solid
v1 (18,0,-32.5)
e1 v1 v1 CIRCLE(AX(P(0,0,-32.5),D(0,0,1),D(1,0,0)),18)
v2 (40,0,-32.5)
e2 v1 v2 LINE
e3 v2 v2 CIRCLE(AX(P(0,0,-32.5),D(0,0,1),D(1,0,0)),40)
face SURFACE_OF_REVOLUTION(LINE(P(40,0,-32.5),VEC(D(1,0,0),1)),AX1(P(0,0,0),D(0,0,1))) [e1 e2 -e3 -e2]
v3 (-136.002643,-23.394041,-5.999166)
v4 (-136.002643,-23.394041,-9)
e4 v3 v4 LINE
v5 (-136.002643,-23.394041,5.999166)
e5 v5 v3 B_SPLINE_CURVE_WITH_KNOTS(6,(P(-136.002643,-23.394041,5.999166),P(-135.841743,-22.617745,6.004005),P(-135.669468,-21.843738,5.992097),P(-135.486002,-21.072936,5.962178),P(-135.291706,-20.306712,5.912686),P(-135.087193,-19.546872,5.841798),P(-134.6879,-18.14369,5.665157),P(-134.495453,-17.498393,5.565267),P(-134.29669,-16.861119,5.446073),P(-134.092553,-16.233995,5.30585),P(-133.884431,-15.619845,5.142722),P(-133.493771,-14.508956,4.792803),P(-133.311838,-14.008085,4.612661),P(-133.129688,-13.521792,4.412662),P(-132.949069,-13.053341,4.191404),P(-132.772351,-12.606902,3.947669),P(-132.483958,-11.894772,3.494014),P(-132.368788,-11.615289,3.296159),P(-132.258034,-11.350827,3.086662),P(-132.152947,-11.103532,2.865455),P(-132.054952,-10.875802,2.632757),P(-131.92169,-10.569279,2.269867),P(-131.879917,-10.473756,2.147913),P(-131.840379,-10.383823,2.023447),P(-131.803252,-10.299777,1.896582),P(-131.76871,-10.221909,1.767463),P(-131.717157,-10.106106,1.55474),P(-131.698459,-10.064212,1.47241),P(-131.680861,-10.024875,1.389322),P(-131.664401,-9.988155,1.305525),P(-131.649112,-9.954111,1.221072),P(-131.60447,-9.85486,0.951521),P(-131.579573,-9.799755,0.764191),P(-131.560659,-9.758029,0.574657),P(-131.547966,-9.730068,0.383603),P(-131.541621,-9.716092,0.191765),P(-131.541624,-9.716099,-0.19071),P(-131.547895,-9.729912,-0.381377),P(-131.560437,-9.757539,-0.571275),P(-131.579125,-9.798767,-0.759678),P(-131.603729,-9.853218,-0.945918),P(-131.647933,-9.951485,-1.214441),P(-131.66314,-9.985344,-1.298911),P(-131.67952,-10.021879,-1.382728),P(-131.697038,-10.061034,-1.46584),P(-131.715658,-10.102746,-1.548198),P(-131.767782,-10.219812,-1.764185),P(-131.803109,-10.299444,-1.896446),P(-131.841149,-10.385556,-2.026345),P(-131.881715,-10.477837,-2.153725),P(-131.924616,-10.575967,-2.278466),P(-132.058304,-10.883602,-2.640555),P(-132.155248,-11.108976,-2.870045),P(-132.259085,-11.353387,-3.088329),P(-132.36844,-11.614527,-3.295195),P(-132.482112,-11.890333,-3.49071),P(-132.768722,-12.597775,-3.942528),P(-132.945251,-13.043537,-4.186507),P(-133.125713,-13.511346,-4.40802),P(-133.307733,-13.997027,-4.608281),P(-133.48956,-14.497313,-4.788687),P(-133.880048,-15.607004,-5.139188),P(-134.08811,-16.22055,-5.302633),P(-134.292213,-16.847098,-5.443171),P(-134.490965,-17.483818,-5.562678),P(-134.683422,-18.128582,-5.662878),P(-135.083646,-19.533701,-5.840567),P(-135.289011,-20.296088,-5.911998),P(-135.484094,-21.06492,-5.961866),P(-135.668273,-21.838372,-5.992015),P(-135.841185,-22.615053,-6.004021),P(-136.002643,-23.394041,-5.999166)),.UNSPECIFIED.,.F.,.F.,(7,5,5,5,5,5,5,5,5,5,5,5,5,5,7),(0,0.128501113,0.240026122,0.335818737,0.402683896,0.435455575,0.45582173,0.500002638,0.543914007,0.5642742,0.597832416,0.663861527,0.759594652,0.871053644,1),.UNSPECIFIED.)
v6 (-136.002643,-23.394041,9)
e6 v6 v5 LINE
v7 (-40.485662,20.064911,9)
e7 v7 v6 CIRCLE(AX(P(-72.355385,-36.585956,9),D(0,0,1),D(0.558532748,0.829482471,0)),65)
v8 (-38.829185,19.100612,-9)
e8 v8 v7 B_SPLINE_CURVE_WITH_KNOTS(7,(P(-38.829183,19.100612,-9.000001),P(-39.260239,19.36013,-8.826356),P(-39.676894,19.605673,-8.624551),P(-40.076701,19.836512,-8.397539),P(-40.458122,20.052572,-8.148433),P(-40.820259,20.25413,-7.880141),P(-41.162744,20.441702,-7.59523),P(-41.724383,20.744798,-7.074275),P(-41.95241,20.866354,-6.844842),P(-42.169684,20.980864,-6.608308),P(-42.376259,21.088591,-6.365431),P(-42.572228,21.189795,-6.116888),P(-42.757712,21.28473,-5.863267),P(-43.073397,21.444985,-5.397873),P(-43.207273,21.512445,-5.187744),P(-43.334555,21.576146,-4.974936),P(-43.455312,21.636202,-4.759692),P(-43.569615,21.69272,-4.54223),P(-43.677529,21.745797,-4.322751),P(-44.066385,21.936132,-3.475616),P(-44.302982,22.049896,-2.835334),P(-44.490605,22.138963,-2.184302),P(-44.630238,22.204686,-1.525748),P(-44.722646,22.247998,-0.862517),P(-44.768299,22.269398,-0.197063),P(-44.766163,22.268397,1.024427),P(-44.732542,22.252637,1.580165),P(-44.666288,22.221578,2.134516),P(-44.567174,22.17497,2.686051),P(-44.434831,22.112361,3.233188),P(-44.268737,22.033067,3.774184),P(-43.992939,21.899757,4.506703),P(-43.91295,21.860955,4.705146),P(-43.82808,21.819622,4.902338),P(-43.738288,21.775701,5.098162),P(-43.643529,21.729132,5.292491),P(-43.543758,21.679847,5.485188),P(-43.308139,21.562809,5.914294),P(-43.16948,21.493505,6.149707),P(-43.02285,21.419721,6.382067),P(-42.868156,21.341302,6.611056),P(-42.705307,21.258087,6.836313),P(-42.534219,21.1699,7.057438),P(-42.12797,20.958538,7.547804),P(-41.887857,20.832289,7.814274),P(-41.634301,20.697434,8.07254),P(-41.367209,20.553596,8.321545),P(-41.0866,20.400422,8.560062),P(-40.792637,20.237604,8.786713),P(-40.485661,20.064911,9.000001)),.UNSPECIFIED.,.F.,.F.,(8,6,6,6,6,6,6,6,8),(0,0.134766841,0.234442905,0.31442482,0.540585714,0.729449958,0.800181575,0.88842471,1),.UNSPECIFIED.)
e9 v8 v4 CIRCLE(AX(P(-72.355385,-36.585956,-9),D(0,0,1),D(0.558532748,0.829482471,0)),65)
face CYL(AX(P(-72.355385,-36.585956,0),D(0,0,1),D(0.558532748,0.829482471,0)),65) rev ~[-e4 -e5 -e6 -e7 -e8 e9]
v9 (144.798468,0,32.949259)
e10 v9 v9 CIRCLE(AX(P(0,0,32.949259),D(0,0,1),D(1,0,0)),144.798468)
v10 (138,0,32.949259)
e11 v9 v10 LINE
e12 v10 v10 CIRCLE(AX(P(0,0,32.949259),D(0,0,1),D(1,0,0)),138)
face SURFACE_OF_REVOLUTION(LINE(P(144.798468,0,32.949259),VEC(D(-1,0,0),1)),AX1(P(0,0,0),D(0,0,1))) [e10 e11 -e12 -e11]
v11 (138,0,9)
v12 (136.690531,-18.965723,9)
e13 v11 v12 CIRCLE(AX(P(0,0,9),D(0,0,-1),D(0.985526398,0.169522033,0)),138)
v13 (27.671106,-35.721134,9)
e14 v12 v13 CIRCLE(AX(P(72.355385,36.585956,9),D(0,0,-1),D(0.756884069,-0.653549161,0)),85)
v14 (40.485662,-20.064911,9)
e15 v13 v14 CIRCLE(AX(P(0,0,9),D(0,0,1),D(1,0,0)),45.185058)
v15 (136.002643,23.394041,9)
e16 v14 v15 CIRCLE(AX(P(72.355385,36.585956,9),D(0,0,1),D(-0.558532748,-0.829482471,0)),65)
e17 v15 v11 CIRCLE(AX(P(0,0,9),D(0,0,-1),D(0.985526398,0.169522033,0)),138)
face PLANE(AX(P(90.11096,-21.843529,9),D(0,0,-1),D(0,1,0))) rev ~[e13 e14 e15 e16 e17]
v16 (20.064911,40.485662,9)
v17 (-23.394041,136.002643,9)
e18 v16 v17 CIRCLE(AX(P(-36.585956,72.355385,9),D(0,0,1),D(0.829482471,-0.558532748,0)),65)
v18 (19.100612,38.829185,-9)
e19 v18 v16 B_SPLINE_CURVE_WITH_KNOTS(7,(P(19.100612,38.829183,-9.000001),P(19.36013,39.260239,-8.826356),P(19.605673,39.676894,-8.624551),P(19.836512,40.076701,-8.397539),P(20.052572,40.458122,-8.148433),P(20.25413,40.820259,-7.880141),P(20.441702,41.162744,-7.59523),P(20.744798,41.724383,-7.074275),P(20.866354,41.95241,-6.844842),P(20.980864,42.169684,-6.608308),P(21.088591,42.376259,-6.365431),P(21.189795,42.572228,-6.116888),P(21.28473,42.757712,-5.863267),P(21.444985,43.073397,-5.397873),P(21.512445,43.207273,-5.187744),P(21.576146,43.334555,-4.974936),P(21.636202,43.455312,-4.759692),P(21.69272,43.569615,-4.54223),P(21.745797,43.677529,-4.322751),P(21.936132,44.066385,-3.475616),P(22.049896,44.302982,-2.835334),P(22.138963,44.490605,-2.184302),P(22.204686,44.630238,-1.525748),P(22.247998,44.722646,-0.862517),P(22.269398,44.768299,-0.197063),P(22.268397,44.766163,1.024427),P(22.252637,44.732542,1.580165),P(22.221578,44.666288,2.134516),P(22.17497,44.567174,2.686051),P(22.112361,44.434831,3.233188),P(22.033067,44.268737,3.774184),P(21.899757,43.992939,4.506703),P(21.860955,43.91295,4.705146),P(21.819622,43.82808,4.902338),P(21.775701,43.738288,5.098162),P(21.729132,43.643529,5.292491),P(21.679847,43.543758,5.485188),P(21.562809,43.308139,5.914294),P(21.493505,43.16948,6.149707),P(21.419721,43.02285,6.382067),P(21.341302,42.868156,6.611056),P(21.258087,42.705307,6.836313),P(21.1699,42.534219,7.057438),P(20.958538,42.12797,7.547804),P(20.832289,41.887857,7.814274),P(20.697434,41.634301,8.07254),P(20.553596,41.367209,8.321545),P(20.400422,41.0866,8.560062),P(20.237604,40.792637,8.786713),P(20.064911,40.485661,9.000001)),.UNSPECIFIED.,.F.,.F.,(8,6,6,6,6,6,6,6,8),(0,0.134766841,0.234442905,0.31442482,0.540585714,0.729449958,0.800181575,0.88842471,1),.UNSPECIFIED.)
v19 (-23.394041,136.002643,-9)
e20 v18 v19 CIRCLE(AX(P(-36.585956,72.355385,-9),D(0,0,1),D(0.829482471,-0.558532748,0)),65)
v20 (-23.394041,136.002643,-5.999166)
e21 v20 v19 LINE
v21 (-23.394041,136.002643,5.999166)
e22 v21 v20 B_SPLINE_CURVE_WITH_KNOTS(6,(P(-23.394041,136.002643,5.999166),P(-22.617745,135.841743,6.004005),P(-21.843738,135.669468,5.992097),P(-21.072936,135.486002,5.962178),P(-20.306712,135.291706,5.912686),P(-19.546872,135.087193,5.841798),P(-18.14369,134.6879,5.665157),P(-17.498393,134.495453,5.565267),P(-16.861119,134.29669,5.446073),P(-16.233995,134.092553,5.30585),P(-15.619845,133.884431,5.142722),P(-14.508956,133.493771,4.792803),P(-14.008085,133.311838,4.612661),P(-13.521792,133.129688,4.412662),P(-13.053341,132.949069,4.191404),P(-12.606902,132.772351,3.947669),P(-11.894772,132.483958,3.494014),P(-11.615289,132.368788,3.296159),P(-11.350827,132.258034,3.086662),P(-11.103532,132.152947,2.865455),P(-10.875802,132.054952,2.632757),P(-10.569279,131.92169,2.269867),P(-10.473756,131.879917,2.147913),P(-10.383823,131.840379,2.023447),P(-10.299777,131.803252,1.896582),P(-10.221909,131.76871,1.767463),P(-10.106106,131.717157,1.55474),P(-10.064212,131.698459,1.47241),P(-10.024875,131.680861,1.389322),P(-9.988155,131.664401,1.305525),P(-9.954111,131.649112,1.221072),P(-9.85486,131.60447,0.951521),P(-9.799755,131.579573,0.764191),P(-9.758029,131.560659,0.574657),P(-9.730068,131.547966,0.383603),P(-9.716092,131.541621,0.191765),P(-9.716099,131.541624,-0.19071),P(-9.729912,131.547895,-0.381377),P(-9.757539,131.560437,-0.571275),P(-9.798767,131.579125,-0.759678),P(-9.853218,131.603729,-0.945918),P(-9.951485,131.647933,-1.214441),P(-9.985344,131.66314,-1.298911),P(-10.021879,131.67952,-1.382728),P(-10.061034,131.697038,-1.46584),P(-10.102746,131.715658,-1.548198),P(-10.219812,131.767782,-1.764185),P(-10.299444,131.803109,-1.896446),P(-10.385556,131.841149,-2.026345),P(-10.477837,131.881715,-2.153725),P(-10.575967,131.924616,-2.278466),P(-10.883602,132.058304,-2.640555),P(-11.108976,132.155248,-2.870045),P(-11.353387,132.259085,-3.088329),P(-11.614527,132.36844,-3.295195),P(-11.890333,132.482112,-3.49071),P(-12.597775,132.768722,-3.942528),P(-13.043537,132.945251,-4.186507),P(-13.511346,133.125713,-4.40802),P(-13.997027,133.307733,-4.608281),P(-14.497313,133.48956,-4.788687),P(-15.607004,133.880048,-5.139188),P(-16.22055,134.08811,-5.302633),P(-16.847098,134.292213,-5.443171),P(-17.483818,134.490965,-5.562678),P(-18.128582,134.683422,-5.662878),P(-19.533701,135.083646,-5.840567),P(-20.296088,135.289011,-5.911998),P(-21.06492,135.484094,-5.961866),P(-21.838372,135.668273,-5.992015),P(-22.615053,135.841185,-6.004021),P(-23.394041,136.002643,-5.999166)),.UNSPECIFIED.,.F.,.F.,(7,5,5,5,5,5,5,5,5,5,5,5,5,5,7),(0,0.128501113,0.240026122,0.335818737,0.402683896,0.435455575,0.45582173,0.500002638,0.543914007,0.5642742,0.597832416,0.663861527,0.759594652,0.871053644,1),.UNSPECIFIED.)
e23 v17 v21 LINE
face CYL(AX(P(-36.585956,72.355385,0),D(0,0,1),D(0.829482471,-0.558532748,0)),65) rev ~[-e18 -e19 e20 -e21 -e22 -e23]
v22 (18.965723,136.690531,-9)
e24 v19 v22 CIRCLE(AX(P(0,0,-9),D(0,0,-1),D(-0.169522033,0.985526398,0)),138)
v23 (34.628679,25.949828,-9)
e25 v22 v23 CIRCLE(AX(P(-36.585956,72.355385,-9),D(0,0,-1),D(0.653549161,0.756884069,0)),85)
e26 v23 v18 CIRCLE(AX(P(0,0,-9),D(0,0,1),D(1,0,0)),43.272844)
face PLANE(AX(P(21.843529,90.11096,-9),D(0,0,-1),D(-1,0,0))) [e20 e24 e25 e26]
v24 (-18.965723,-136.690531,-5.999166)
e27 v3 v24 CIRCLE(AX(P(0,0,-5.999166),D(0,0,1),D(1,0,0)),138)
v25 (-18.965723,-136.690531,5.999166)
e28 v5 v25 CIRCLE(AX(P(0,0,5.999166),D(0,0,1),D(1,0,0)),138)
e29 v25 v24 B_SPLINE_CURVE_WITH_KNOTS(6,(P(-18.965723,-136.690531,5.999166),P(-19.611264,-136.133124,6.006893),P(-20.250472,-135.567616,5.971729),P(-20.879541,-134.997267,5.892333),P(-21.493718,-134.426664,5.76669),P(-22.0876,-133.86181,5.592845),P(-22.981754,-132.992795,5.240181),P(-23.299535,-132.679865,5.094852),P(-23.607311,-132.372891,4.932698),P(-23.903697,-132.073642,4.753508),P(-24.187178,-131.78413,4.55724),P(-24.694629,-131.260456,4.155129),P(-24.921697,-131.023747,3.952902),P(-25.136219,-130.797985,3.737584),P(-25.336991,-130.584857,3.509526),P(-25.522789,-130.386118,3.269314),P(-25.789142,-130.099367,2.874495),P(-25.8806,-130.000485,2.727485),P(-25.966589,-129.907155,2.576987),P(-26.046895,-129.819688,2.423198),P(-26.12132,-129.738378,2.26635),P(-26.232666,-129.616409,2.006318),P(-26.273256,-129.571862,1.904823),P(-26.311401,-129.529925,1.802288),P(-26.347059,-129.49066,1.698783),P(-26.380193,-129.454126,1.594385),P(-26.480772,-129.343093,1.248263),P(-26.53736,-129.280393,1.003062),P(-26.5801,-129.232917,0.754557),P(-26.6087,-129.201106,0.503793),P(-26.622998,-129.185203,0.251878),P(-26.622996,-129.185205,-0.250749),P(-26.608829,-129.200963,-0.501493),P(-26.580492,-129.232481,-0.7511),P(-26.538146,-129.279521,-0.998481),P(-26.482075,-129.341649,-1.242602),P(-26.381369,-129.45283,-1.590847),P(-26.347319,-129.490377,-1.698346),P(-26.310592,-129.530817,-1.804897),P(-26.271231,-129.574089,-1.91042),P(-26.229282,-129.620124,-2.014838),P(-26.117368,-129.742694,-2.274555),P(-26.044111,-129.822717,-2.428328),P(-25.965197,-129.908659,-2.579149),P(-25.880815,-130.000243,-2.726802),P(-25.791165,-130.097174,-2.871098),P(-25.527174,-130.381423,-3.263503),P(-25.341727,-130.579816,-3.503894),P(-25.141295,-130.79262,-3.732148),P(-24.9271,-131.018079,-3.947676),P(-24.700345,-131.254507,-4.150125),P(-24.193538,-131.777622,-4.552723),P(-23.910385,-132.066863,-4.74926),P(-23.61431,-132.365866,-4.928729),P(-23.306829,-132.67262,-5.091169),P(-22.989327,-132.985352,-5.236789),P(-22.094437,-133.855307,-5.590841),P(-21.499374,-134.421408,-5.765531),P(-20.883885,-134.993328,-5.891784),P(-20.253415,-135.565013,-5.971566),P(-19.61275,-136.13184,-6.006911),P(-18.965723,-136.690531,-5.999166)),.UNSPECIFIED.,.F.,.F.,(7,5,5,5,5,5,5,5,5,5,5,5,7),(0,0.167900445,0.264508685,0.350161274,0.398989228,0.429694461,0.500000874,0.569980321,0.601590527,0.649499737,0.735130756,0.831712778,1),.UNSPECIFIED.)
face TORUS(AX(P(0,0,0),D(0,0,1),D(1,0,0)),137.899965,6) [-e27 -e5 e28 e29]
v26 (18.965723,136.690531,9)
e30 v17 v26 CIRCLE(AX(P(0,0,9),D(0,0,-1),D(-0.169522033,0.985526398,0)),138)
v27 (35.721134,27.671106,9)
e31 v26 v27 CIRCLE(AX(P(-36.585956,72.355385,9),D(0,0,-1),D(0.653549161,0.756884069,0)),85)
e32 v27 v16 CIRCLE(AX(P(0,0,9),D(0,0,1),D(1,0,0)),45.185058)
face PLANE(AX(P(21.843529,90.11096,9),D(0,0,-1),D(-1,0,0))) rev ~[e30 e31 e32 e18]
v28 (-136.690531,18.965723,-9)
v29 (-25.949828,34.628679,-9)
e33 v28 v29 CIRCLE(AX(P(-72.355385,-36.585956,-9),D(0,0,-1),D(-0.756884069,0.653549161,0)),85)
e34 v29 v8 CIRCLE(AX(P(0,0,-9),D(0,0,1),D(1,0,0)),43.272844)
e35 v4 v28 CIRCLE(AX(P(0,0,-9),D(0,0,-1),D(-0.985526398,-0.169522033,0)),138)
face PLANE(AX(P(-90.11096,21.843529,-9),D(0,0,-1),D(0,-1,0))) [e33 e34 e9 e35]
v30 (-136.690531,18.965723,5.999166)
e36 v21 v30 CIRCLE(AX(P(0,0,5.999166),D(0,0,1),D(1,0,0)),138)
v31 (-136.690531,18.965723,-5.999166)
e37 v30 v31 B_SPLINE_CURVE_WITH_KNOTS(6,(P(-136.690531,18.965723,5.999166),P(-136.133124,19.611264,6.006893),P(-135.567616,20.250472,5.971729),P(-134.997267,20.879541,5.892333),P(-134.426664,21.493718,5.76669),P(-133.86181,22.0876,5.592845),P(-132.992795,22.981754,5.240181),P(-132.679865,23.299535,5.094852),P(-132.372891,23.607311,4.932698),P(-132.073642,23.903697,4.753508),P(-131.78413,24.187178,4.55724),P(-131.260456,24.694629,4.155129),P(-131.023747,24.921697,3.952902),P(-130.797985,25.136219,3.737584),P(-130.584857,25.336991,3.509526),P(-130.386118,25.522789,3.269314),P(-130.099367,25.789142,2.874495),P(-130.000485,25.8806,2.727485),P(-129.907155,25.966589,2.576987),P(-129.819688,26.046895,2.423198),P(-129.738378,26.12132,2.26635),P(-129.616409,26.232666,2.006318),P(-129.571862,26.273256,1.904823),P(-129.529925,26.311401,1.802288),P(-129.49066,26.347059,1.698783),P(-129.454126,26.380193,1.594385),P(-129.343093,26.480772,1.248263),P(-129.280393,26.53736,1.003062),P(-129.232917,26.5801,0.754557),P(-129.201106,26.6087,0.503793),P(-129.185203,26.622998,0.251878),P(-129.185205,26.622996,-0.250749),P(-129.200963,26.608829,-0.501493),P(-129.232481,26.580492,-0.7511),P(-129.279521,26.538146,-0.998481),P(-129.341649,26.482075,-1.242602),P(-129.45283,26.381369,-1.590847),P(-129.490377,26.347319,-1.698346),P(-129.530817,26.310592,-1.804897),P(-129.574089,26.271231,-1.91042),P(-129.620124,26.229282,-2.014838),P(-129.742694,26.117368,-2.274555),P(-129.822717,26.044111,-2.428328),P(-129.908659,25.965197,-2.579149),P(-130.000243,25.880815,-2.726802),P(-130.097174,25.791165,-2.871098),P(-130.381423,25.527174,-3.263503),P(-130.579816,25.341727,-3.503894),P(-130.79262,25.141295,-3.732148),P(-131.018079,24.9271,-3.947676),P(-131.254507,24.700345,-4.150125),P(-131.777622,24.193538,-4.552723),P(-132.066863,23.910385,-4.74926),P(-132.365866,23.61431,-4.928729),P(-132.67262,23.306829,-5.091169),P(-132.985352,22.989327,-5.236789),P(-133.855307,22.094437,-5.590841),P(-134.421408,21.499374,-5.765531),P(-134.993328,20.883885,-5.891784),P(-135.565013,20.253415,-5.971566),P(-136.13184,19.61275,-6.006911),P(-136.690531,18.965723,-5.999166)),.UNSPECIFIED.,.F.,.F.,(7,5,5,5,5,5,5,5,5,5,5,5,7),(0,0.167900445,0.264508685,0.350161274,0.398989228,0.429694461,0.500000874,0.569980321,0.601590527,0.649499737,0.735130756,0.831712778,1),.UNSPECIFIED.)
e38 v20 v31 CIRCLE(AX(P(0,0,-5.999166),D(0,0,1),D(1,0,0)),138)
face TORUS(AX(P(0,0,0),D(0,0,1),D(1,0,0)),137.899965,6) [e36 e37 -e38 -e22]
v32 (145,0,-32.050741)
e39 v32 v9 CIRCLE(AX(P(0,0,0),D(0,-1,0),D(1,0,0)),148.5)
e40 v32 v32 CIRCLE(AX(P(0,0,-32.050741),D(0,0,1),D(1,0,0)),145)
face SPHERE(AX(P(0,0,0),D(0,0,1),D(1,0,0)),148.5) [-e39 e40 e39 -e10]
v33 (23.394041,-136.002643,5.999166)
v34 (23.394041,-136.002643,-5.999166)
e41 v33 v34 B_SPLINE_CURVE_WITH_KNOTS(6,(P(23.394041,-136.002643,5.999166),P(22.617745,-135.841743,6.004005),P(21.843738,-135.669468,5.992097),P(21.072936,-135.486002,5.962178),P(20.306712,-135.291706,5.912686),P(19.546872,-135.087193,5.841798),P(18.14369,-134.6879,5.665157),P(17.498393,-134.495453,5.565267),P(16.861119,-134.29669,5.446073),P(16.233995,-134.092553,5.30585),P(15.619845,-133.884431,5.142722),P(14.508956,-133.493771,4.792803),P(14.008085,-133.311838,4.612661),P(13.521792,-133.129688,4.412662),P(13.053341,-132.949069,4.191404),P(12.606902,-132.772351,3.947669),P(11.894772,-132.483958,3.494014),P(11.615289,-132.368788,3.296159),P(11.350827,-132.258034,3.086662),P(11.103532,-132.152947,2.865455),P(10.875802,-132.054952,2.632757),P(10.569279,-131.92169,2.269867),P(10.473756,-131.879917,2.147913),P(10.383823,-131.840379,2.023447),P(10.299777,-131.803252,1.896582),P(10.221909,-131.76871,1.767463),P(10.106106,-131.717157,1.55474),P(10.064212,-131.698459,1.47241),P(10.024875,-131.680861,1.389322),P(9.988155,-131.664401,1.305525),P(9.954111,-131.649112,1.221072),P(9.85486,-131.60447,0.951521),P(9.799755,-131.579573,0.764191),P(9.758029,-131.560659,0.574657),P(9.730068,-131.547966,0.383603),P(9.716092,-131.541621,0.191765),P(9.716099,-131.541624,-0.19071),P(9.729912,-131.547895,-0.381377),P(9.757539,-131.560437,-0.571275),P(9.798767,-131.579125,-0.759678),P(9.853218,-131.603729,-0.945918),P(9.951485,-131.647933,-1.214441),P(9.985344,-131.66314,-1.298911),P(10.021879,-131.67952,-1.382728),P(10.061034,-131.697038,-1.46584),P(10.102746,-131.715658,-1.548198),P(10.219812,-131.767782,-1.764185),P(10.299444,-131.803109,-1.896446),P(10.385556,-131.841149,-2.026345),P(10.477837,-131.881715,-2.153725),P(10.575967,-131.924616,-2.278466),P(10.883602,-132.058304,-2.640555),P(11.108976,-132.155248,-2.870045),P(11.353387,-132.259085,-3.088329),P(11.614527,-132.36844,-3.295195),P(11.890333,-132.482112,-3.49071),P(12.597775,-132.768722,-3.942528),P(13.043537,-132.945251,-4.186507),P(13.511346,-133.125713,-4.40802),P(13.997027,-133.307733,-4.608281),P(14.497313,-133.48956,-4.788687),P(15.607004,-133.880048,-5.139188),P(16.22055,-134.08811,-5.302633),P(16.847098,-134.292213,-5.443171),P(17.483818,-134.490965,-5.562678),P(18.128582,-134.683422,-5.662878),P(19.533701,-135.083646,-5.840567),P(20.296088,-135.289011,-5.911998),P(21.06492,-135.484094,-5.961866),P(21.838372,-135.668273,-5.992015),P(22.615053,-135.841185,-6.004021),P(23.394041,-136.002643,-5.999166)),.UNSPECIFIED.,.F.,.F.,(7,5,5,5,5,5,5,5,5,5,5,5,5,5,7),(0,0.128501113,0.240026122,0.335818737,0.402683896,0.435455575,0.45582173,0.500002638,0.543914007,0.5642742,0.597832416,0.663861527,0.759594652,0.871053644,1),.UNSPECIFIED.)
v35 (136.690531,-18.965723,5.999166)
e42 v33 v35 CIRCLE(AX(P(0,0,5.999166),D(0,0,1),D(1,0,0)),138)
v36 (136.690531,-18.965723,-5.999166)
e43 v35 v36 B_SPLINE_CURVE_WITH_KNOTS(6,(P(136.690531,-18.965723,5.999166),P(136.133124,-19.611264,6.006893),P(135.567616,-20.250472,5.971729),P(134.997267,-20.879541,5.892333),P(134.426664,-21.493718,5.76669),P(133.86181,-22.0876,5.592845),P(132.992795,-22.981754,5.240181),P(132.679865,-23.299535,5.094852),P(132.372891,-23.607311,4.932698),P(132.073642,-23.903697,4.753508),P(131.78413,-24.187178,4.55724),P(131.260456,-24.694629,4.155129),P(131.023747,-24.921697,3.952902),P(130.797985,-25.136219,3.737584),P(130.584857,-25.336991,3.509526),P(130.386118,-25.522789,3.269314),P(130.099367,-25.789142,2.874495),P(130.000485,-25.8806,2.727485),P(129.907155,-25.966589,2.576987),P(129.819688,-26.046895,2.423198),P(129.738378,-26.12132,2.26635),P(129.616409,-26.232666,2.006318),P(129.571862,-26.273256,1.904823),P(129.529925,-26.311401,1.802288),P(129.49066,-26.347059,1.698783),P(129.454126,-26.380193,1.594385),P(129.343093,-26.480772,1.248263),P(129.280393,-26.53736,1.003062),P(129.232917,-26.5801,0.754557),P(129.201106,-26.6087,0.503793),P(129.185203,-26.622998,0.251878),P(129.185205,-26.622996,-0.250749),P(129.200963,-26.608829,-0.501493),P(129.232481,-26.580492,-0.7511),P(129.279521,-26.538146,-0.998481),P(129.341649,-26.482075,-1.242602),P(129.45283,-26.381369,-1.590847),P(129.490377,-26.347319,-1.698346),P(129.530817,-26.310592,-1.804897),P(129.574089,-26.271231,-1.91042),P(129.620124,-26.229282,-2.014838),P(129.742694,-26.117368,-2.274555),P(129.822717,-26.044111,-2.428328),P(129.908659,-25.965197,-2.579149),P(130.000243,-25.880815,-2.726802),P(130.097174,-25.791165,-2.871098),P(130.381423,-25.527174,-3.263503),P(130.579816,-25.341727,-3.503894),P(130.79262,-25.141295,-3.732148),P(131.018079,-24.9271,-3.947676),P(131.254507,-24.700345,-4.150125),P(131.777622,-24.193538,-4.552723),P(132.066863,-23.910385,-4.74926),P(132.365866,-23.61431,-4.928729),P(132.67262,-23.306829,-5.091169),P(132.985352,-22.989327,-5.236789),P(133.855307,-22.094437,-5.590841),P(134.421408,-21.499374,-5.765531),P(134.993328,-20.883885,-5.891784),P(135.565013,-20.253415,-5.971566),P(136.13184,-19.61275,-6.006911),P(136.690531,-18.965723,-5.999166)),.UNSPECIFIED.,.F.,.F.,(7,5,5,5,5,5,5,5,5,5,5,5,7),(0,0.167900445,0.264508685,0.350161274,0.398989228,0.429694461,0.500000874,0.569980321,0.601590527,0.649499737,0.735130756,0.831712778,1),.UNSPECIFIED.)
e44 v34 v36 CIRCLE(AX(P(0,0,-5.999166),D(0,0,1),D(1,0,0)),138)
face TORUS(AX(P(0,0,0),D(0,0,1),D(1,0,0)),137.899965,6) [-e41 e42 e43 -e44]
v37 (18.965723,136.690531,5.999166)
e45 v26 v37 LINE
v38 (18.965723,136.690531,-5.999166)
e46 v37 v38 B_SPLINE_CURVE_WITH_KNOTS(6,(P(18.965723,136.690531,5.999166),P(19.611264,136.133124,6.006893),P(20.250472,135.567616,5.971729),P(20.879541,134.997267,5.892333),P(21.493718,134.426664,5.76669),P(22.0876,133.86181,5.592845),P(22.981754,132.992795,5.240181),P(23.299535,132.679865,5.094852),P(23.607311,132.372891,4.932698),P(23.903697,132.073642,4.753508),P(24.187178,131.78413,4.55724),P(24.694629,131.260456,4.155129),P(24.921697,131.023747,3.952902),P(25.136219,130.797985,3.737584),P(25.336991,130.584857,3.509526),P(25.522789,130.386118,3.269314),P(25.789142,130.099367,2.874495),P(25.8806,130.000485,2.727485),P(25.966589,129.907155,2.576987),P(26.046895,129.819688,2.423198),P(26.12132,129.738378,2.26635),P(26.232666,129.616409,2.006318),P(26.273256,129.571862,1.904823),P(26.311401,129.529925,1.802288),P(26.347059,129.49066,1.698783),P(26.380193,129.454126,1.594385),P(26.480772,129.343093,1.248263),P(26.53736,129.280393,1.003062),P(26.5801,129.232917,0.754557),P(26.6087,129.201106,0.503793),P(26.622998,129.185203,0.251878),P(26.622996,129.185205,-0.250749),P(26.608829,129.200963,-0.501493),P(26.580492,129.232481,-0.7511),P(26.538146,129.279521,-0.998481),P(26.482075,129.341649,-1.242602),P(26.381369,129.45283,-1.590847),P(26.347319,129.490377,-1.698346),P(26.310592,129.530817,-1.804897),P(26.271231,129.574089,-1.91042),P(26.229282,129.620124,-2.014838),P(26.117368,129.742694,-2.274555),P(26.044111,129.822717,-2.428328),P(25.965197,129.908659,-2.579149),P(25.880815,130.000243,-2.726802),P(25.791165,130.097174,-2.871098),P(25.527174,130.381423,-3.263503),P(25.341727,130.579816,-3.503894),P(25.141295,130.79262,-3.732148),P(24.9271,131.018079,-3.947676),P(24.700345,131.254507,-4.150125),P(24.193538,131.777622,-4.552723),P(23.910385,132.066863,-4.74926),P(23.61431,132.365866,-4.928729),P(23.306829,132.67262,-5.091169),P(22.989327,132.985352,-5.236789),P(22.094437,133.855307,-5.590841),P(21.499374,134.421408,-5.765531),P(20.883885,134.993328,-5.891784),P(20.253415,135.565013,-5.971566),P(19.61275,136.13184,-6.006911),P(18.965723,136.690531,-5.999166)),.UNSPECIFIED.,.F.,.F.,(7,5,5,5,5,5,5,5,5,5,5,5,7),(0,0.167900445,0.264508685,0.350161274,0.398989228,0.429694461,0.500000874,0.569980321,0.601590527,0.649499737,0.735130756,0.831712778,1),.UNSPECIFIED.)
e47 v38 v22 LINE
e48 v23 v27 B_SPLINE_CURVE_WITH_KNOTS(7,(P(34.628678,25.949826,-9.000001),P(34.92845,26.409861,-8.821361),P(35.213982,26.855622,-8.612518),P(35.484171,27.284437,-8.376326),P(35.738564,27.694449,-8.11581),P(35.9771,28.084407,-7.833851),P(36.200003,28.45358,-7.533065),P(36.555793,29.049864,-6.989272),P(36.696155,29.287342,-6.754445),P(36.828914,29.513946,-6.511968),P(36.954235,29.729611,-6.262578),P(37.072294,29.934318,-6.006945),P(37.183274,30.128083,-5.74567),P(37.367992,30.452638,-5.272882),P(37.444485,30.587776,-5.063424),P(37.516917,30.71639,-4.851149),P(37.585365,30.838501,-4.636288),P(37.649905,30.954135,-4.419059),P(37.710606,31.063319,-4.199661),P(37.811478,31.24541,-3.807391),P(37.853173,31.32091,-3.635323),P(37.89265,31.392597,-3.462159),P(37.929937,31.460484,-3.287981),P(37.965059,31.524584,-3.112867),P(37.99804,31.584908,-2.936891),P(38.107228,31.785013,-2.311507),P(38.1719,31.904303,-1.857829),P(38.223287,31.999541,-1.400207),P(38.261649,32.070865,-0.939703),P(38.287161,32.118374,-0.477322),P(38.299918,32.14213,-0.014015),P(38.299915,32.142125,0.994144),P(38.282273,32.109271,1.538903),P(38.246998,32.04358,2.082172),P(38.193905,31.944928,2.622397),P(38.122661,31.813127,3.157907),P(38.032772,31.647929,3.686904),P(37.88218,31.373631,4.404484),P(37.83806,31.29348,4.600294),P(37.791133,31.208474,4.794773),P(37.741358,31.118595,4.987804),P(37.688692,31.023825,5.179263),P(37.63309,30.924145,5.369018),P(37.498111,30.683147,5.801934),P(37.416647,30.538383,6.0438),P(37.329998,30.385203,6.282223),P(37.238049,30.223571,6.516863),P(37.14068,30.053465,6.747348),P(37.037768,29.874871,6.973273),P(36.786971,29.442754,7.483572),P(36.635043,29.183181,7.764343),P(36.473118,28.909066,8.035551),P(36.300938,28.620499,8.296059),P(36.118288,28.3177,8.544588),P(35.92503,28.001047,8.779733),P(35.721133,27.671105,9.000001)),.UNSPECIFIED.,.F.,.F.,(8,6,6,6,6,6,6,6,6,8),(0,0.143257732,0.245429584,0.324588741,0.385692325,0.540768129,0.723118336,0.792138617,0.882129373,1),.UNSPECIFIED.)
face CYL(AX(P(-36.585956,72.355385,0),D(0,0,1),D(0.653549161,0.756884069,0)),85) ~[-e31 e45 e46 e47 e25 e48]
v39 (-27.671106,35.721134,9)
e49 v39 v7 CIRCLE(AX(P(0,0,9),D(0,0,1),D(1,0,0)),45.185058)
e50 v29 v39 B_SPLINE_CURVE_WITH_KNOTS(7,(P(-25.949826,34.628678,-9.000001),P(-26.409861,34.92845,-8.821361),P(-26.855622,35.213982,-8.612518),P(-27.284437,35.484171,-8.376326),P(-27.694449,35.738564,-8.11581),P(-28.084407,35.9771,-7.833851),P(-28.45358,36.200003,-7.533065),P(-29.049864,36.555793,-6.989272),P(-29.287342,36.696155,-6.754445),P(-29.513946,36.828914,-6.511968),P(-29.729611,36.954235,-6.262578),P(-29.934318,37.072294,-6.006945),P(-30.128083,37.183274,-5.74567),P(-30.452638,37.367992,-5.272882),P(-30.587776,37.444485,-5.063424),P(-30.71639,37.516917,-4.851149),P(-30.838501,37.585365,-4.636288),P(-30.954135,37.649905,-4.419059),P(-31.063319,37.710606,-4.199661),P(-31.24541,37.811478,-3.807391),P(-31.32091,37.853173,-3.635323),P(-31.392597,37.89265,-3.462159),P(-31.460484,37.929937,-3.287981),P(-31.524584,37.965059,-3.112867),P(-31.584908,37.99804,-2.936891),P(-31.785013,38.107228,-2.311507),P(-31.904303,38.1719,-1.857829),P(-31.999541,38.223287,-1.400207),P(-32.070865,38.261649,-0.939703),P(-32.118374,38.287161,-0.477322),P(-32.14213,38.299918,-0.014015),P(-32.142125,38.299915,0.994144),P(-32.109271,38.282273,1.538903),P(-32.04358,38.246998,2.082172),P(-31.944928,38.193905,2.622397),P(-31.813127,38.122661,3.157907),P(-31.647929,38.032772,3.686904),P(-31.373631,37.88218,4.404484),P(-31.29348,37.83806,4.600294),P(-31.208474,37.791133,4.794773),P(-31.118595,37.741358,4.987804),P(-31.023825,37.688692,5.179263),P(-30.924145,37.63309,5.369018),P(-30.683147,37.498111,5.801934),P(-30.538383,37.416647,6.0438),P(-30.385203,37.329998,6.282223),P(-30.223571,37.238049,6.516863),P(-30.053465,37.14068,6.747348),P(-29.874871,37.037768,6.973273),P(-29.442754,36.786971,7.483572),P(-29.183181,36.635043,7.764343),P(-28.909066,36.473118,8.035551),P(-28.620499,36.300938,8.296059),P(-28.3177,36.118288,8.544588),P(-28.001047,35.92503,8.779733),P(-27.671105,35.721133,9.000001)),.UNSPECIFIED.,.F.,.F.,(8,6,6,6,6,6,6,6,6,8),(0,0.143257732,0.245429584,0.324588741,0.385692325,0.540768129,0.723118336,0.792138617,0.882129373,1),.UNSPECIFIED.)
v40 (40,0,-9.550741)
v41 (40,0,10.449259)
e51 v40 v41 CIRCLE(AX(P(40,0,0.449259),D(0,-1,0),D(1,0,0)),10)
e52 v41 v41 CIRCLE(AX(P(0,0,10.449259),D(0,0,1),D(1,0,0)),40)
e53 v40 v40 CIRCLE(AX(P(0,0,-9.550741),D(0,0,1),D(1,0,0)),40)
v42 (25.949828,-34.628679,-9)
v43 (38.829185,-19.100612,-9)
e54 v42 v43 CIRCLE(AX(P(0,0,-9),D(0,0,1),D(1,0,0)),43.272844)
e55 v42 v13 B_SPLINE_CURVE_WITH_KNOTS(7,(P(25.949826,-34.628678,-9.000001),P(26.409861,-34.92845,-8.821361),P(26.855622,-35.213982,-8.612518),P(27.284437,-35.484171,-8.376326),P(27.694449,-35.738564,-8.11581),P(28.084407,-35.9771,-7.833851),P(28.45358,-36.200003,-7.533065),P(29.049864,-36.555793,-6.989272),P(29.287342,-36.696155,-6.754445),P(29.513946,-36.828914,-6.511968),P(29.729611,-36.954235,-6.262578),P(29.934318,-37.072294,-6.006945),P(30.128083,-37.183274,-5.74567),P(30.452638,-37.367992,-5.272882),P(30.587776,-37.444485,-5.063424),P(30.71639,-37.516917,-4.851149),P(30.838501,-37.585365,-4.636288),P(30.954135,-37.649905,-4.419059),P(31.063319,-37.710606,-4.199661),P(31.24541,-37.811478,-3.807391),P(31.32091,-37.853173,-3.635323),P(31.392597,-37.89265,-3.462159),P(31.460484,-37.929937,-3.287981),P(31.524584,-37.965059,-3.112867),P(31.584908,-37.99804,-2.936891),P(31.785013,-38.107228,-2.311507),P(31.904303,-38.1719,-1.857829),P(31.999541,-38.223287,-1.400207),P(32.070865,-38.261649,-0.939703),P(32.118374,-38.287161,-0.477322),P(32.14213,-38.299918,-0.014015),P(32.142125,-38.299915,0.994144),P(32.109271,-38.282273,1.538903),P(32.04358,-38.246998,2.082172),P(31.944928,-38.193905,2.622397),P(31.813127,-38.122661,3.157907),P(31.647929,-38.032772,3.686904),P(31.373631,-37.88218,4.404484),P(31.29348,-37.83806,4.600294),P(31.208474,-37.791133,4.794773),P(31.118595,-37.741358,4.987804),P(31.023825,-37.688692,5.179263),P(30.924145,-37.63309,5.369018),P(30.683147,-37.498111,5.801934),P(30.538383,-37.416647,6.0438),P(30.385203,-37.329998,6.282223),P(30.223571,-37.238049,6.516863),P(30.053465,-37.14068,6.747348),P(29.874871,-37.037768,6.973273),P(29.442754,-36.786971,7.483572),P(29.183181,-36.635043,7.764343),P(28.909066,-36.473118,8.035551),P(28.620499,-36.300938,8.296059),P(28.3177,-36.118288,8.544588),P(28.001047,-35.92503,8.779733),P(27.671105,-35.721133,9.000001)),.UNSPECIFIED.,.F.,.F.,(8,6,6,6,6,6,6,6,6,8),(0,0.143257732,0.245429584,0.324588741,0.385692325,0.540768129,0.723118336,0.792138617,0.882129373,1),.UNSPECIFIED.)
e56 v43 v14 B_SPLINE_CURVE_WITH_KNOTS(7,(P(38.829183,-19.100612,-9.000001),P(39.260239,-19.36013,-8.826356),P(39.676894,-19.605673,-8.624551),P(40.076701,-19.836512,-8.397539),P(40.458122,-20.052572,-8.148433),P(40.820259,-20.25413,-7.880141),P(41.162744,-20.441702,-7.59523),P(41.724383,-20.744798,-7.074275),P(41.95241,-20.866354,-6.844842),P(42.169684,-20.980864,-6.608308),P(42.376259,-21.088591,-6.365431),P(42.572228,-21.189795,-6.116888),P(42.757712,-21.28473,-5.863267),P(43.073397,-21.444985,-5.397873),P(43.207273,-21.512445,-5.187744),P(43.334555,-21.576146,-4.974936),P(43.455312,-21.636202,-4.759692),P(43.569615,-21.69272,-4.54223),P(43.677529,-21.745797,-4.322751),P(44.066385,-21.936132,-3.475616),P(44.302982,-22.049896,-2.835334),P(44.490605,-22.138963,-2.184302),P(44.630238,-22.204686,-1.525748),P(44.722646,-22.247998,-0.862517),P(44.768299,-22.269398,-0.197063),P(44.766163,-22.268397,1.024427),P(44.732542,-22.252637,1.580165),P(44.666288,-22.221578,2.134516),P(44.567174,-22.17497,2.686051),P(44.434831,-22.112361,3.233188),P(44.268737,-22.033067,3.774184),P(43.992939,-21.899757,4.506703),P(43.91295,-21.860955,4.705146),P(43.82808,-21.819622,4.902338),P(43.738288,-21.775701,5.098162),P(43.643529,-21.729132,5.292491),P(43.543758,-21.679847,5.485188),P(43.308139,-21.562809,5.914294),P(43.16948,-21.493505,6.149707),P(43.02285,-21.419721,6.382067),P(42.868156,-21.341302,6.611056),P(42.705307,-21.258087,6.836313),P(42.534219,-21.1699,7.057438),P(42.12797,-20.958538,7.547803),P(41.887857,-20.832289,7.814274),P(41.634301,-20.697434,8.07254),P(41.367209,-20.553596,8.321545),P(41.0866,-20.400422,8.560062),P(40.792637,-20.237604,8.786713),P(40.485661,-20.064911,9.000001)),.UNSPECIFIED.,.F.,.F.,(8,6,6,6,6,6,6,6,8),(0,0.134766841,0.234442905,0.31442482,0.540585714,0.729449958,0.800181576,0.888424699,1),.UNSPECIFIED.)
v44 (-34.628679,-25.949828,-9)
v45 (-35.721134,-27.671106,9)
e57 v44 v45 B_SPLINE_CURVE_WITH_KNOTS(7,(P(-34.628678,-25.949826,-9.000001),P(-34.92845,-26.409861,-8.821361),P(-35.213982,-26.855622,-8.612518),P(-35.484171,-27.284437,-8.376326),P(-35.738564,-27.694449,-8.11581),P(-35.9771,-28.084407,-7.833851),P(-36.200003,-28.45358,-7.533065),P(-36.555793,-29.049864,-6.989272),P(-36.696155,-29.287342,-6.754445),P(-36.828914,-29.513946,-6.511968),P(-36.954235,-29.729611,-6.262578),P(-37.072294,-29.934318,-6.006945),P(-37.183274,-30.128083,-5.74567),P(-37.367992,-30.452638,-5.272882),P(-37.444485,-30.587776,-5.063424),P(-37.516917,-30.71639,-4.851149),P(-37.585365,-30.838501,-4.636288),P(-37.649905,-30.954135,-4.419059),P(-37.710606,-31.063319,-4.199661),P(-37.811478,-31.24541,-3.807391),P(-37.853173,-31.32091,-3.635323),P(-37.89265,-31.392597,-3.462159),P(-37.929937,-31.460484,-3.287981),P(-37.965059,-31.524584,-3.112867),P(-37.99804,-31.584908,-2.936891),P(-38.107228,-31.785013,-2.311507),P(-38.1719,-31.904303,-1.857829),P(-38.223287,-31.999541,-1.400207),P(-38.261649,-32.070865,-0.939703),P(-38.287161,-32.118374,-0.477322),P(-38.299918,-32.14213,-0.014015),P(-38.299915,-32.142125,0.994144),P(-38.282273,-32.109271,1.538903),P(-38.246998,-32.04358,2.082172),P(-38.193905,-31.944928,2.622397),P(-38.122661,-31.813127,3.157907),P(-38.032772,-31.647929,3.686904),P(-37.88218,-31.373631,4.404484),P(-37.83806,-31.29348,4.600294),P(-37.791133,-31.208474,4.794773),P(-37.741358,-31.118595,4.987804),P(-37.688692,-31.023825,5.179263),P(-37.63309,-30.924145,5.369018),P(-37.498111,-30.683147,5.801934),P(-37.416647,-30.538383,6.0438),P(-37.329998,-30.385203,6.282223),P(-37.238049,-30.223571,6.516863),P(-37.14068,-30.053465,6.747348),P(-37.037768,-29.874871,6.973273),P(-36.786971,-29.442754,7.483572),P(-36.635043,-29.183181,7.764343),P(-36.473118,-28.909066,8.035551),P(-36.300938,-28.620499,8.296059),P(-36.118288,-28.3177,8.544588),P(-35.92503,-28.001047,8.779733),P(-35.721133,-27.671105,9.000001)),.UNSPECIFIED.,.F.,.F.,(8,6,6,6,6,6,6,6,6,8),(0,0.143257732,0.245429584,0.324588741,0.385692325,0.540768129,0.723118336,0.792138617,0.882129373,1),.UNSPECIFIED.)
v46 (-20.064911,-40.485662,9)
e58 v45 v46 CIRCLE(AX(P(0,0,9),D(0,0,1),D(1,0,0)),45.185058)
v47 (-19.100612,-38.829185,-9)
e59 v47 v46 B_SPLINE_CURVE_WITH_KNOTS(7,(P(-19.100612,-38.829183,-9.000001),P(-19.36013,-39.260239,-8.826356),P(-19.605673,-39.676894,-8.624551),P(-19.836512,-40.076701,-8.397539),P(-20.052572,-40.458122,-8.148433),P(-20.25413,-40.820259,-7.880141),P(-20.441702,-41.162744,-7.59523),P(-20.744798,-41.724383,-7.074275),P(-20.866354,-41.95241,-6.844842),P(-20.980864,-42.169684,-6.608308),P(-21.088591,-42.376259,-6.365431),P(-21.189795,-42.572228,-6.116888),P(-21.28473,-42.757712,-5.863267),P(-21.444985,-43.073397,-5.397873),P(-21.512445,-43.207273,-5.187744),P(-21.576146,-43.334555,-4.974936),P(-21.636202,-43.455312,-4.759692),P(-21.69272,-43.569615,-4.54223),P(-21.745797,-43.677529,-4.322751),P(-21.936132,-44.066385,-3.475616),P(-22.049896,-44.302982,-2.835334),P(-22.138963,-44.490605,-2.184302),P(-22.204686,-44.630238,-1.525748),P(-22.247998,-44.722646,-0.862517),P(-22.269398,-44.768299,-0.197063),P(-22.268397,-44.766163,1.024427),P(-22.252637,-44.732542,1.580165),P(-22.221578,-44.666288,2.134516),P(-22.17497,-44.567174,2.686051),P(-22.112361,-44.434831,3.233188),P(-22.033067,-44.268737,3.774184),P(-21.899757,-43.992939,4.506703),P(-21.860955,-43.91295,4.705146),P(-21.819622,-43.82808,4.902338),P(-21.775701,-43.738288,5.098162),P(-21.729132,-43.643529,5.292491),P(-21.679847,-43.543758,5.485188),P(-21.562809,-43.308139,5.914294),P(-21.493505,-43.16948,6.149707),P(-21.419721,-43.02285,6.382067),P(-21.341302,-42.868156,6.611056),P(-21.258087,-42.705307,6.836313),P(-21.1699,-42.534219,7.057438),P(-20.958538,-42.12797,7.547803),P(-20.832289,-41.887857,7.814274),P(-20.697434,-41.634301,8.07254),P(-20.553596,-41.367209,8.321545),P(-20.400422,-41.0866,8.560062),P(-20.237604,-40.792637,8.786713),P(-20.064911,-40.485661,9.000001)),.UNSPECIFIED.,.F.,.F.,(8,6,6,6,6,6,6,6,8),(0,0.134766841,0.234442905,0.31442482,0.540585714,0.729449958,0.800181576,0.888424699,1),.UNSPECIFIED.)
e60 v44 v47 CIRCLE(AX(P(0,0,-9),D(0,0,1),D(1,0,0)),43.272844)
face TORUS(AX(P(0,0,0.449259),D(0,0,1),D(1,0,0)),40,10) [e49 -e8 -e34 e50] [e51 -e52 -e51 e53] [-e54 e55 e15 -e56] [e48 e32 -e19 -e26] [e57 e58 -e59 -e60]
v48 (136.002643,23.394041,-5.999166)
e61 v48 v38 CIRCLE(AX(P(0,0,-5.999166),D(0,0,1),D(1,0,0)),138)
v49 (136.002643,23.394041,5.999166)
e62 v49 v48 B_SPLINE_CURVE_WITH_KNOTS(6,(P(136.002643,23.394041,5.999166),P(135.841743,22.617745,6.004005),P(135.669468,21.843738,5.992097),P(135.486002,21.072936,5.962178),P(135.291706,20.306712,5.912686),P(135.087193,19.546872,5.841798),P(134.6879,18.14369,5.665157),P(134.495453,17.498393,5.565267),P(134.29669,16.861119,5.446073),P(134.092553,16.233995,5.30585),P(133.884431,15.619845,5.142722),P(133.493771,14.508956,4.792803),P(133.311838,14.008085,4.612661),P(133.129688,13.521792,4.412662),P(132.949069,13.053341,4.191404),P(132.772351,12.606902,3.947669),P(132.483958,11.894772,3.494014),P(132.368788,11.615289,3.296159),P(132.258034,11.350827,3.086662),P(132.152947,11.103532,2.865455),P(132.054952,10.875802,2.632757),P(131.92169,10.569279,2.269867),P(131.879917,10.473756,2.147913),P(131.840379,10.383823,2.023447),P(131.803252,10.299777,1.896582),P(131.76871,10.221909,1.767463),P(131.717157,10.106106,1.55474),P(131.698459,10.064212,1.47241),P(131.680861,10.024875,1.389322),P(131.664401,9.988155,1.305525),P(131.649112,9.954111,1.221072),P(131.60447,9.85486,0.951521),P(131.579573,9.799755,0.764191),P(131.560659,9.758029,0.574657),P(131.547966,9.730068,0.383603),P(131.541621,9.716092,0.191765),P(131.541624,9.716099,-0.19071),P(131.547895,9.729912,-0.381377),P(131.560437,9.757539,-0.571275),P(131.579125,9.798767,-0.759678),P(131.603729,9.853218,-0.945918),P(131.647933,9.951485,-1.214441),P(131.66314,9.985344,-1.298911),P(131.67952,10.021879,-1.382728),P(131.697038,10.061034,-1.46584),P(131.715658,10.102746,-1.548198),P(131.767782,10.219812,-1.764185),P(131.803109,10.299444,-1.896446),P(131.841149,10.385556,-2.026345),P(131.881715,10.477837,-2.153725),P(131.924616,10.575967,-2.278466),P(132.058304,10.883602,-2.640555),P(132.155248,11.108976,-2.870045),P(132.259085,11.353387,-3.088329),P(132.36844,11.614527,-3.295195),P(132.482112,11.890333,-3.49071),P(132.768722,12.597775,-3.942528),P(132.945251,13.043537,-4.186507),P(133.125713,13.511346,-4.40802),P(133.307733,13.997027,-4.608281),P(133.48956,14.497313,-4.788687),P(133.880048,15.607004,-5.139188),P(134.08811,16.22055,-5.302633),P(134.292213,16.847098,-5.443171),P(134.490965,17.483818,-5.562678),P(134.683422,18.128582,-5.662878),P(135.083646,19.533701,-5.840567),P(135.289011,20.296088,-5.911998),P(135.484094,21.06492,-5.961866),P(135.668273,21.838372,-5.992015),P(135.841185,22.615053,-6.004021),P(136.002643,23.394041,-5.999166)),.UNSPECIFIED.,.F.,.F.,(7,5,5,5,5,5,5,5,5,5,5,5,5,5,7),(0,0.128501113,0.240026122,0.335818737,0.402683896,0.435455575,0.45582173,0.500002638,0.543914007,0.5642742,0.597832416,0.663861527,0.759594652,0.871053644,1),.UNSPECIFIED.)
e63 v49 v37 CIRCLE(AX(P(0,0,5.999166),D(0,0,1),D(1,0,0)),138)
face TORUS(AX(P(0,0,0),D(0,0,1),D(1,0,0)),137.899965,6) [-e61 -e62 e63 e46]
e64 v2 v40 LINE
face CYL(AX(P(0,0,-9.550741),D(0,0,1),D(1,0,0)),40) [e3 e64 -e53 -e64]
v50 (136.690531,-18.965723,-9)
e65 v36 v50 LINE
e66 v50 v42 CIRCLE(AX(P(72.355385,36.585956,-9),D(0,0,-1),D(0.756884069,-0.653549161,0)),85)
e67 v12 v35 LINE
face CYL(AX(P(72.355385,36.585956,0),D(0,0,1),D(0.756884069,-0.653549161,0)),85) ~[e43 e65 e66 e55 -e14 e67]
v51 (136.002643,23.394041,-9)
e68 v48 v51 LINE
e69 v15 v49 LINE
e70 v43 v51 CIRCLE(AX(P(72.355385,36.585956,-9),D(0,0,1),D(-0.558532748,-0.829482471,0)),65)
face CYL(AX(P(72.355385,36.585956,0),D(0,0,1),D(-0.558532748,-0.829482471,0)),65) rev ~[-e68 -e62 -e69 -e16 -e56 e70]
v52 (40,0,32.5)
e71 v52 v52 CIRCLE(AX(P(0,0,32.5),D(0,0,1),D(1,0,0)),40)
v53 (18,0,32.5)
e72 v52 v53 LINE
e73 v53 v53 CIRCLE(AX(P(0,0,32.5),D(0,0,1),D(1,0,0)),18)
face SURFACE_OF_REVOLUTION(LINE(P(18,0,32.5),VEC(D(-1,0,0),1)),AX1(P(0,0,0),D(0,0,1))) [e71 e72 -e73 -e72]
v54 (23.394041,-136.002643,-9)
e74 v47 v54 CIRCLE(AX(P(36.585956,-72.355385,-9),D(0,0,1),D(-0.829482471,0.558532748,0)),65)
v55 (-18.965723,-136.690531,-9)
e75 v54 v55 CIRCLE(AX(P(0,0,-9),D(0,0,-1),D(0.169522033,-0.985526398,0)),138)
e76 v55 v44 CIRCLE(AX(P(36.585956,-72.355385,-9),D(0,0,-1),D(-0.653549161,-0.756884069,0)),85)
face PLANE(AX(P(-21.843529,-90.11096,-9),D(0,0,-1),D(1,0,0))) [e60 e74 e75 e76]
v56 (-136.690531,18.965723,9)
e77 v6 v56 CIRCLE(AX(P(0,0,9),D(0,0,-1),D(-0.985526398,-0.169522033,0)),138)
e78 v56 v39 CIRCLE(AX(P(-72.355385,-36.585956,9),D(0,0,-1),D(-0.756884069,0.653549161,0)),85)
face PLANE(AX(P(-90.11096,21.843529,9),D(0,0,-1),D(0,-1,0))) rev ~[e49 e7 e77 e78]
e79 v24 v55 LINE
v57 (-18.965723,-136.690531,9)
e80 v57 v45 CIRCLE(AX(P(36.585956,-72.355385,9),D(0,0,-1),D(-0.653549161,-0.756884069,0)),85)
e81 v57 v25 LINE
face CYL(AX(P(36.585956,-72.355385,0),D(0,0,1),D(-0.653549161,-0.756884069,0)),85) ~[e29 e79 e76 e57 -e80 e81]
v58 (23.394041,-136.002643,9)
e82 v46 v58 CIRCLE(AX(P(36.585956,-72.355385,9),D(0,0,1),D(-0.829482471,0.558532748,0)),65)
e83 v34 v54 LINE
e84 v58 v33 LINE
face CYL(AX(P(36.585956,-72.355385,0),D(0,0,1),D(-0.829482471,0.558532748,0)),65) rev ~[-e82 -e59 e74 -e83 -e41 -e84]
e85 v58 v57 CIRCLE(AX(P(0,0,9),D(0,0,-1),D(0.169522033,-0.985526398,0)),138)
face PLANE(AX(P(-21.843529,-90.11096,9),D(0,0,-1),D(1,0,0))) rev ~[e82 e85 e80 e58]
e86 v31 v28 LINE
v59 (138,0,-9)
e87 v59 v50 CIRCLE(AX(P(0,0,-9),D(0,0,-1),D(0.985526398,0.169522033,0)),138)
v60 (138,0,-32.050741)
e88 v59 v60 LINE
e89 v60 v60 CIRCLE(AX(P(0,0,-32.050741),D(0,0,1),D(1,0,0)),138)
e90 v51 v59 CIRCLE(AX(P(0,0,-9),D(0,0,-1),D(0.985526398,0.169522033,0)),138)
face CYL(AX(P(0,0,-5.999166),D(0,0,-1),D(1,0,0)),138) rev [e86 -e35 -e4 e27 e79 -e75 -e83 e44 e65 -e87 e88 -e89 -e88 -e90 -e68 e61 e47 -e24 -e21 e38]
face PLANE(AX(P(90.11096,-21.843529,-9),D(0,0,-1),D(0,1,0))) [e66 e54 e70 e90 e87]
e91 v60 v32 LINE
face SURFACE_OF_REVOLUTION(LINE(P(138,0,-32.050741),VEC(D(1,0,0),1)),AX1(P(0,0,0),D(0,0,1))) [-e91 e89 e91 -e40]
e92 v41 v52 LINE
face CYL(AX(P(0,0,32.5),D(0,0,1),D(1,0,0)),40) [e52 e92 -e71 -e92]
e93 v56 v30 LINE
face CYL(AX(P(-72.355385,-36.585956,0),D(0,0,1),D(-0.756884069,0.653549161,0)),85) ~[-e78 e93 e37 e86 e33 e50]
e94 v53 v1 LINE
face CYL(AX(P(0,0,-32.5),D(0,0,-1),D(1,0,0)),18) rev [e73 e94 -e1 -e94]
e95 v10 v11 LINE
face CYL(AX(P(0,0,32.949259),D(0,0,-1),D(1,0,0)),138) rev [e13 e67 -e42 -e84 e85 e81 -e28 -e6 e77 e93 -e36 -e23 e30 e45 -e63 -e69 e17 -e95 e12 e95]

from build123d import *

# Parameters (mm, degrees)
BOSS_EXTRUDE3_DEPTH = 9
CIRPATTERN1_COUNT   = 4


with BuildPart() as part:
    # Sweep1: sweep along a path in Sketch1
    with BuildLine(Plane.XY) as sweep1_path:
        CenterArc((0, 0), 145, 0, 360)
    # Sketch2 → Sweep1 (sweep)
    with BuildSketch(Plane(origin=(0, 0, 0), x_dir=(0, 0, -1), z_dir=(1, 0, 0))):
        with BuildLine():
            Line((5.999166033, 138), (32.050741021, 138))
            Line((32.050741021, 138), (32.050741021, 145))
            ThreePointArc((32.050741021, 145), (-0.460420914, 148.499286236), (-32.949258979, 144.798467992))
            Line((-32.949258979, 144.798467992), (-32.949258979, 138))
            Line((-32.949258979, 138), (-5.999166033, 138))
            ThreePointArc((-5.999166033, 138), (0, 131.899965493), (5.999166033, 138))
        make_face()
    sweep(path=sweep1_path.line)



with BuildPart() as body_2:
    # Sweep2: sweep along a path in Sketch3
    with BuildLine(Plane.XY) as sweep2_path:
        CenterArc((0, 0), 40, 0, 360)
    # Sketch4 → Sweep2 (sweep)
    with BuildSketch(Plane(origin=(0, 0, 0), x_dir=(0, 0, -1), z_dir=(1, 0, 0))):
        with BuildLine():
            Line((-32.5, 40), (-10.449258979, 40))
            ThreePointArc((-10.449258979, 40), (-0.449258979, 50), (9.550741021, 40))
            Line((9.550741021, 40), (32.5, 40))
            Line((32.5, 40), (32.5, 18))
            Line((32.5, 18), (-32.5, 18))
            Line((-32.5, 18), (-32.5, 40))
        make_face()
    sweep(path=sweep2_path.line)


with BuildPart() as part_1:
    add(part.part)

    add(body_2.part)  # Boss-Extrude3 merges body 2
    # Sketch10 → Boss-Extrude3 (add, symmetric)
    with BuildSketch(Plane.XY):
        with BuildLine():
            ThreePointArc((17.330404885, 36.050756809), (23.609351815, 96.881391078), (-23.394040608, 136.002642857))
            ThreePointArc((-23.394040608, 136.002642857), (-2.240713474, 137.981807508), (18.965722986, 136.690531317))
            ThreePointArc((18.965722986, 136.690531317), (47.802187213, 82.535824261), (32.671857062, 23.077039588))
            ThreePointArc((32.671857062, 23.077039588), (25.828973742, 30.542824287), (17.330404885, 36.050756809))
        make_face()
    boss_extrude3 = extrude(amount=BOSS_EXTRUDE3_DEPTH, both=True)

    # CirPattern1: Boss-Extrude3 ×4 about axis
    cirpattern1_axis = Axis((0, 0, 0), (0, 0, 1))
    for i in range(1, CIRPATTERN1_COUNT):
        add(boss_extrude3.rotate(cirpattern1_axis, i * 360 / CIRPATTERN1_COUNT))


solid = part_1.part
